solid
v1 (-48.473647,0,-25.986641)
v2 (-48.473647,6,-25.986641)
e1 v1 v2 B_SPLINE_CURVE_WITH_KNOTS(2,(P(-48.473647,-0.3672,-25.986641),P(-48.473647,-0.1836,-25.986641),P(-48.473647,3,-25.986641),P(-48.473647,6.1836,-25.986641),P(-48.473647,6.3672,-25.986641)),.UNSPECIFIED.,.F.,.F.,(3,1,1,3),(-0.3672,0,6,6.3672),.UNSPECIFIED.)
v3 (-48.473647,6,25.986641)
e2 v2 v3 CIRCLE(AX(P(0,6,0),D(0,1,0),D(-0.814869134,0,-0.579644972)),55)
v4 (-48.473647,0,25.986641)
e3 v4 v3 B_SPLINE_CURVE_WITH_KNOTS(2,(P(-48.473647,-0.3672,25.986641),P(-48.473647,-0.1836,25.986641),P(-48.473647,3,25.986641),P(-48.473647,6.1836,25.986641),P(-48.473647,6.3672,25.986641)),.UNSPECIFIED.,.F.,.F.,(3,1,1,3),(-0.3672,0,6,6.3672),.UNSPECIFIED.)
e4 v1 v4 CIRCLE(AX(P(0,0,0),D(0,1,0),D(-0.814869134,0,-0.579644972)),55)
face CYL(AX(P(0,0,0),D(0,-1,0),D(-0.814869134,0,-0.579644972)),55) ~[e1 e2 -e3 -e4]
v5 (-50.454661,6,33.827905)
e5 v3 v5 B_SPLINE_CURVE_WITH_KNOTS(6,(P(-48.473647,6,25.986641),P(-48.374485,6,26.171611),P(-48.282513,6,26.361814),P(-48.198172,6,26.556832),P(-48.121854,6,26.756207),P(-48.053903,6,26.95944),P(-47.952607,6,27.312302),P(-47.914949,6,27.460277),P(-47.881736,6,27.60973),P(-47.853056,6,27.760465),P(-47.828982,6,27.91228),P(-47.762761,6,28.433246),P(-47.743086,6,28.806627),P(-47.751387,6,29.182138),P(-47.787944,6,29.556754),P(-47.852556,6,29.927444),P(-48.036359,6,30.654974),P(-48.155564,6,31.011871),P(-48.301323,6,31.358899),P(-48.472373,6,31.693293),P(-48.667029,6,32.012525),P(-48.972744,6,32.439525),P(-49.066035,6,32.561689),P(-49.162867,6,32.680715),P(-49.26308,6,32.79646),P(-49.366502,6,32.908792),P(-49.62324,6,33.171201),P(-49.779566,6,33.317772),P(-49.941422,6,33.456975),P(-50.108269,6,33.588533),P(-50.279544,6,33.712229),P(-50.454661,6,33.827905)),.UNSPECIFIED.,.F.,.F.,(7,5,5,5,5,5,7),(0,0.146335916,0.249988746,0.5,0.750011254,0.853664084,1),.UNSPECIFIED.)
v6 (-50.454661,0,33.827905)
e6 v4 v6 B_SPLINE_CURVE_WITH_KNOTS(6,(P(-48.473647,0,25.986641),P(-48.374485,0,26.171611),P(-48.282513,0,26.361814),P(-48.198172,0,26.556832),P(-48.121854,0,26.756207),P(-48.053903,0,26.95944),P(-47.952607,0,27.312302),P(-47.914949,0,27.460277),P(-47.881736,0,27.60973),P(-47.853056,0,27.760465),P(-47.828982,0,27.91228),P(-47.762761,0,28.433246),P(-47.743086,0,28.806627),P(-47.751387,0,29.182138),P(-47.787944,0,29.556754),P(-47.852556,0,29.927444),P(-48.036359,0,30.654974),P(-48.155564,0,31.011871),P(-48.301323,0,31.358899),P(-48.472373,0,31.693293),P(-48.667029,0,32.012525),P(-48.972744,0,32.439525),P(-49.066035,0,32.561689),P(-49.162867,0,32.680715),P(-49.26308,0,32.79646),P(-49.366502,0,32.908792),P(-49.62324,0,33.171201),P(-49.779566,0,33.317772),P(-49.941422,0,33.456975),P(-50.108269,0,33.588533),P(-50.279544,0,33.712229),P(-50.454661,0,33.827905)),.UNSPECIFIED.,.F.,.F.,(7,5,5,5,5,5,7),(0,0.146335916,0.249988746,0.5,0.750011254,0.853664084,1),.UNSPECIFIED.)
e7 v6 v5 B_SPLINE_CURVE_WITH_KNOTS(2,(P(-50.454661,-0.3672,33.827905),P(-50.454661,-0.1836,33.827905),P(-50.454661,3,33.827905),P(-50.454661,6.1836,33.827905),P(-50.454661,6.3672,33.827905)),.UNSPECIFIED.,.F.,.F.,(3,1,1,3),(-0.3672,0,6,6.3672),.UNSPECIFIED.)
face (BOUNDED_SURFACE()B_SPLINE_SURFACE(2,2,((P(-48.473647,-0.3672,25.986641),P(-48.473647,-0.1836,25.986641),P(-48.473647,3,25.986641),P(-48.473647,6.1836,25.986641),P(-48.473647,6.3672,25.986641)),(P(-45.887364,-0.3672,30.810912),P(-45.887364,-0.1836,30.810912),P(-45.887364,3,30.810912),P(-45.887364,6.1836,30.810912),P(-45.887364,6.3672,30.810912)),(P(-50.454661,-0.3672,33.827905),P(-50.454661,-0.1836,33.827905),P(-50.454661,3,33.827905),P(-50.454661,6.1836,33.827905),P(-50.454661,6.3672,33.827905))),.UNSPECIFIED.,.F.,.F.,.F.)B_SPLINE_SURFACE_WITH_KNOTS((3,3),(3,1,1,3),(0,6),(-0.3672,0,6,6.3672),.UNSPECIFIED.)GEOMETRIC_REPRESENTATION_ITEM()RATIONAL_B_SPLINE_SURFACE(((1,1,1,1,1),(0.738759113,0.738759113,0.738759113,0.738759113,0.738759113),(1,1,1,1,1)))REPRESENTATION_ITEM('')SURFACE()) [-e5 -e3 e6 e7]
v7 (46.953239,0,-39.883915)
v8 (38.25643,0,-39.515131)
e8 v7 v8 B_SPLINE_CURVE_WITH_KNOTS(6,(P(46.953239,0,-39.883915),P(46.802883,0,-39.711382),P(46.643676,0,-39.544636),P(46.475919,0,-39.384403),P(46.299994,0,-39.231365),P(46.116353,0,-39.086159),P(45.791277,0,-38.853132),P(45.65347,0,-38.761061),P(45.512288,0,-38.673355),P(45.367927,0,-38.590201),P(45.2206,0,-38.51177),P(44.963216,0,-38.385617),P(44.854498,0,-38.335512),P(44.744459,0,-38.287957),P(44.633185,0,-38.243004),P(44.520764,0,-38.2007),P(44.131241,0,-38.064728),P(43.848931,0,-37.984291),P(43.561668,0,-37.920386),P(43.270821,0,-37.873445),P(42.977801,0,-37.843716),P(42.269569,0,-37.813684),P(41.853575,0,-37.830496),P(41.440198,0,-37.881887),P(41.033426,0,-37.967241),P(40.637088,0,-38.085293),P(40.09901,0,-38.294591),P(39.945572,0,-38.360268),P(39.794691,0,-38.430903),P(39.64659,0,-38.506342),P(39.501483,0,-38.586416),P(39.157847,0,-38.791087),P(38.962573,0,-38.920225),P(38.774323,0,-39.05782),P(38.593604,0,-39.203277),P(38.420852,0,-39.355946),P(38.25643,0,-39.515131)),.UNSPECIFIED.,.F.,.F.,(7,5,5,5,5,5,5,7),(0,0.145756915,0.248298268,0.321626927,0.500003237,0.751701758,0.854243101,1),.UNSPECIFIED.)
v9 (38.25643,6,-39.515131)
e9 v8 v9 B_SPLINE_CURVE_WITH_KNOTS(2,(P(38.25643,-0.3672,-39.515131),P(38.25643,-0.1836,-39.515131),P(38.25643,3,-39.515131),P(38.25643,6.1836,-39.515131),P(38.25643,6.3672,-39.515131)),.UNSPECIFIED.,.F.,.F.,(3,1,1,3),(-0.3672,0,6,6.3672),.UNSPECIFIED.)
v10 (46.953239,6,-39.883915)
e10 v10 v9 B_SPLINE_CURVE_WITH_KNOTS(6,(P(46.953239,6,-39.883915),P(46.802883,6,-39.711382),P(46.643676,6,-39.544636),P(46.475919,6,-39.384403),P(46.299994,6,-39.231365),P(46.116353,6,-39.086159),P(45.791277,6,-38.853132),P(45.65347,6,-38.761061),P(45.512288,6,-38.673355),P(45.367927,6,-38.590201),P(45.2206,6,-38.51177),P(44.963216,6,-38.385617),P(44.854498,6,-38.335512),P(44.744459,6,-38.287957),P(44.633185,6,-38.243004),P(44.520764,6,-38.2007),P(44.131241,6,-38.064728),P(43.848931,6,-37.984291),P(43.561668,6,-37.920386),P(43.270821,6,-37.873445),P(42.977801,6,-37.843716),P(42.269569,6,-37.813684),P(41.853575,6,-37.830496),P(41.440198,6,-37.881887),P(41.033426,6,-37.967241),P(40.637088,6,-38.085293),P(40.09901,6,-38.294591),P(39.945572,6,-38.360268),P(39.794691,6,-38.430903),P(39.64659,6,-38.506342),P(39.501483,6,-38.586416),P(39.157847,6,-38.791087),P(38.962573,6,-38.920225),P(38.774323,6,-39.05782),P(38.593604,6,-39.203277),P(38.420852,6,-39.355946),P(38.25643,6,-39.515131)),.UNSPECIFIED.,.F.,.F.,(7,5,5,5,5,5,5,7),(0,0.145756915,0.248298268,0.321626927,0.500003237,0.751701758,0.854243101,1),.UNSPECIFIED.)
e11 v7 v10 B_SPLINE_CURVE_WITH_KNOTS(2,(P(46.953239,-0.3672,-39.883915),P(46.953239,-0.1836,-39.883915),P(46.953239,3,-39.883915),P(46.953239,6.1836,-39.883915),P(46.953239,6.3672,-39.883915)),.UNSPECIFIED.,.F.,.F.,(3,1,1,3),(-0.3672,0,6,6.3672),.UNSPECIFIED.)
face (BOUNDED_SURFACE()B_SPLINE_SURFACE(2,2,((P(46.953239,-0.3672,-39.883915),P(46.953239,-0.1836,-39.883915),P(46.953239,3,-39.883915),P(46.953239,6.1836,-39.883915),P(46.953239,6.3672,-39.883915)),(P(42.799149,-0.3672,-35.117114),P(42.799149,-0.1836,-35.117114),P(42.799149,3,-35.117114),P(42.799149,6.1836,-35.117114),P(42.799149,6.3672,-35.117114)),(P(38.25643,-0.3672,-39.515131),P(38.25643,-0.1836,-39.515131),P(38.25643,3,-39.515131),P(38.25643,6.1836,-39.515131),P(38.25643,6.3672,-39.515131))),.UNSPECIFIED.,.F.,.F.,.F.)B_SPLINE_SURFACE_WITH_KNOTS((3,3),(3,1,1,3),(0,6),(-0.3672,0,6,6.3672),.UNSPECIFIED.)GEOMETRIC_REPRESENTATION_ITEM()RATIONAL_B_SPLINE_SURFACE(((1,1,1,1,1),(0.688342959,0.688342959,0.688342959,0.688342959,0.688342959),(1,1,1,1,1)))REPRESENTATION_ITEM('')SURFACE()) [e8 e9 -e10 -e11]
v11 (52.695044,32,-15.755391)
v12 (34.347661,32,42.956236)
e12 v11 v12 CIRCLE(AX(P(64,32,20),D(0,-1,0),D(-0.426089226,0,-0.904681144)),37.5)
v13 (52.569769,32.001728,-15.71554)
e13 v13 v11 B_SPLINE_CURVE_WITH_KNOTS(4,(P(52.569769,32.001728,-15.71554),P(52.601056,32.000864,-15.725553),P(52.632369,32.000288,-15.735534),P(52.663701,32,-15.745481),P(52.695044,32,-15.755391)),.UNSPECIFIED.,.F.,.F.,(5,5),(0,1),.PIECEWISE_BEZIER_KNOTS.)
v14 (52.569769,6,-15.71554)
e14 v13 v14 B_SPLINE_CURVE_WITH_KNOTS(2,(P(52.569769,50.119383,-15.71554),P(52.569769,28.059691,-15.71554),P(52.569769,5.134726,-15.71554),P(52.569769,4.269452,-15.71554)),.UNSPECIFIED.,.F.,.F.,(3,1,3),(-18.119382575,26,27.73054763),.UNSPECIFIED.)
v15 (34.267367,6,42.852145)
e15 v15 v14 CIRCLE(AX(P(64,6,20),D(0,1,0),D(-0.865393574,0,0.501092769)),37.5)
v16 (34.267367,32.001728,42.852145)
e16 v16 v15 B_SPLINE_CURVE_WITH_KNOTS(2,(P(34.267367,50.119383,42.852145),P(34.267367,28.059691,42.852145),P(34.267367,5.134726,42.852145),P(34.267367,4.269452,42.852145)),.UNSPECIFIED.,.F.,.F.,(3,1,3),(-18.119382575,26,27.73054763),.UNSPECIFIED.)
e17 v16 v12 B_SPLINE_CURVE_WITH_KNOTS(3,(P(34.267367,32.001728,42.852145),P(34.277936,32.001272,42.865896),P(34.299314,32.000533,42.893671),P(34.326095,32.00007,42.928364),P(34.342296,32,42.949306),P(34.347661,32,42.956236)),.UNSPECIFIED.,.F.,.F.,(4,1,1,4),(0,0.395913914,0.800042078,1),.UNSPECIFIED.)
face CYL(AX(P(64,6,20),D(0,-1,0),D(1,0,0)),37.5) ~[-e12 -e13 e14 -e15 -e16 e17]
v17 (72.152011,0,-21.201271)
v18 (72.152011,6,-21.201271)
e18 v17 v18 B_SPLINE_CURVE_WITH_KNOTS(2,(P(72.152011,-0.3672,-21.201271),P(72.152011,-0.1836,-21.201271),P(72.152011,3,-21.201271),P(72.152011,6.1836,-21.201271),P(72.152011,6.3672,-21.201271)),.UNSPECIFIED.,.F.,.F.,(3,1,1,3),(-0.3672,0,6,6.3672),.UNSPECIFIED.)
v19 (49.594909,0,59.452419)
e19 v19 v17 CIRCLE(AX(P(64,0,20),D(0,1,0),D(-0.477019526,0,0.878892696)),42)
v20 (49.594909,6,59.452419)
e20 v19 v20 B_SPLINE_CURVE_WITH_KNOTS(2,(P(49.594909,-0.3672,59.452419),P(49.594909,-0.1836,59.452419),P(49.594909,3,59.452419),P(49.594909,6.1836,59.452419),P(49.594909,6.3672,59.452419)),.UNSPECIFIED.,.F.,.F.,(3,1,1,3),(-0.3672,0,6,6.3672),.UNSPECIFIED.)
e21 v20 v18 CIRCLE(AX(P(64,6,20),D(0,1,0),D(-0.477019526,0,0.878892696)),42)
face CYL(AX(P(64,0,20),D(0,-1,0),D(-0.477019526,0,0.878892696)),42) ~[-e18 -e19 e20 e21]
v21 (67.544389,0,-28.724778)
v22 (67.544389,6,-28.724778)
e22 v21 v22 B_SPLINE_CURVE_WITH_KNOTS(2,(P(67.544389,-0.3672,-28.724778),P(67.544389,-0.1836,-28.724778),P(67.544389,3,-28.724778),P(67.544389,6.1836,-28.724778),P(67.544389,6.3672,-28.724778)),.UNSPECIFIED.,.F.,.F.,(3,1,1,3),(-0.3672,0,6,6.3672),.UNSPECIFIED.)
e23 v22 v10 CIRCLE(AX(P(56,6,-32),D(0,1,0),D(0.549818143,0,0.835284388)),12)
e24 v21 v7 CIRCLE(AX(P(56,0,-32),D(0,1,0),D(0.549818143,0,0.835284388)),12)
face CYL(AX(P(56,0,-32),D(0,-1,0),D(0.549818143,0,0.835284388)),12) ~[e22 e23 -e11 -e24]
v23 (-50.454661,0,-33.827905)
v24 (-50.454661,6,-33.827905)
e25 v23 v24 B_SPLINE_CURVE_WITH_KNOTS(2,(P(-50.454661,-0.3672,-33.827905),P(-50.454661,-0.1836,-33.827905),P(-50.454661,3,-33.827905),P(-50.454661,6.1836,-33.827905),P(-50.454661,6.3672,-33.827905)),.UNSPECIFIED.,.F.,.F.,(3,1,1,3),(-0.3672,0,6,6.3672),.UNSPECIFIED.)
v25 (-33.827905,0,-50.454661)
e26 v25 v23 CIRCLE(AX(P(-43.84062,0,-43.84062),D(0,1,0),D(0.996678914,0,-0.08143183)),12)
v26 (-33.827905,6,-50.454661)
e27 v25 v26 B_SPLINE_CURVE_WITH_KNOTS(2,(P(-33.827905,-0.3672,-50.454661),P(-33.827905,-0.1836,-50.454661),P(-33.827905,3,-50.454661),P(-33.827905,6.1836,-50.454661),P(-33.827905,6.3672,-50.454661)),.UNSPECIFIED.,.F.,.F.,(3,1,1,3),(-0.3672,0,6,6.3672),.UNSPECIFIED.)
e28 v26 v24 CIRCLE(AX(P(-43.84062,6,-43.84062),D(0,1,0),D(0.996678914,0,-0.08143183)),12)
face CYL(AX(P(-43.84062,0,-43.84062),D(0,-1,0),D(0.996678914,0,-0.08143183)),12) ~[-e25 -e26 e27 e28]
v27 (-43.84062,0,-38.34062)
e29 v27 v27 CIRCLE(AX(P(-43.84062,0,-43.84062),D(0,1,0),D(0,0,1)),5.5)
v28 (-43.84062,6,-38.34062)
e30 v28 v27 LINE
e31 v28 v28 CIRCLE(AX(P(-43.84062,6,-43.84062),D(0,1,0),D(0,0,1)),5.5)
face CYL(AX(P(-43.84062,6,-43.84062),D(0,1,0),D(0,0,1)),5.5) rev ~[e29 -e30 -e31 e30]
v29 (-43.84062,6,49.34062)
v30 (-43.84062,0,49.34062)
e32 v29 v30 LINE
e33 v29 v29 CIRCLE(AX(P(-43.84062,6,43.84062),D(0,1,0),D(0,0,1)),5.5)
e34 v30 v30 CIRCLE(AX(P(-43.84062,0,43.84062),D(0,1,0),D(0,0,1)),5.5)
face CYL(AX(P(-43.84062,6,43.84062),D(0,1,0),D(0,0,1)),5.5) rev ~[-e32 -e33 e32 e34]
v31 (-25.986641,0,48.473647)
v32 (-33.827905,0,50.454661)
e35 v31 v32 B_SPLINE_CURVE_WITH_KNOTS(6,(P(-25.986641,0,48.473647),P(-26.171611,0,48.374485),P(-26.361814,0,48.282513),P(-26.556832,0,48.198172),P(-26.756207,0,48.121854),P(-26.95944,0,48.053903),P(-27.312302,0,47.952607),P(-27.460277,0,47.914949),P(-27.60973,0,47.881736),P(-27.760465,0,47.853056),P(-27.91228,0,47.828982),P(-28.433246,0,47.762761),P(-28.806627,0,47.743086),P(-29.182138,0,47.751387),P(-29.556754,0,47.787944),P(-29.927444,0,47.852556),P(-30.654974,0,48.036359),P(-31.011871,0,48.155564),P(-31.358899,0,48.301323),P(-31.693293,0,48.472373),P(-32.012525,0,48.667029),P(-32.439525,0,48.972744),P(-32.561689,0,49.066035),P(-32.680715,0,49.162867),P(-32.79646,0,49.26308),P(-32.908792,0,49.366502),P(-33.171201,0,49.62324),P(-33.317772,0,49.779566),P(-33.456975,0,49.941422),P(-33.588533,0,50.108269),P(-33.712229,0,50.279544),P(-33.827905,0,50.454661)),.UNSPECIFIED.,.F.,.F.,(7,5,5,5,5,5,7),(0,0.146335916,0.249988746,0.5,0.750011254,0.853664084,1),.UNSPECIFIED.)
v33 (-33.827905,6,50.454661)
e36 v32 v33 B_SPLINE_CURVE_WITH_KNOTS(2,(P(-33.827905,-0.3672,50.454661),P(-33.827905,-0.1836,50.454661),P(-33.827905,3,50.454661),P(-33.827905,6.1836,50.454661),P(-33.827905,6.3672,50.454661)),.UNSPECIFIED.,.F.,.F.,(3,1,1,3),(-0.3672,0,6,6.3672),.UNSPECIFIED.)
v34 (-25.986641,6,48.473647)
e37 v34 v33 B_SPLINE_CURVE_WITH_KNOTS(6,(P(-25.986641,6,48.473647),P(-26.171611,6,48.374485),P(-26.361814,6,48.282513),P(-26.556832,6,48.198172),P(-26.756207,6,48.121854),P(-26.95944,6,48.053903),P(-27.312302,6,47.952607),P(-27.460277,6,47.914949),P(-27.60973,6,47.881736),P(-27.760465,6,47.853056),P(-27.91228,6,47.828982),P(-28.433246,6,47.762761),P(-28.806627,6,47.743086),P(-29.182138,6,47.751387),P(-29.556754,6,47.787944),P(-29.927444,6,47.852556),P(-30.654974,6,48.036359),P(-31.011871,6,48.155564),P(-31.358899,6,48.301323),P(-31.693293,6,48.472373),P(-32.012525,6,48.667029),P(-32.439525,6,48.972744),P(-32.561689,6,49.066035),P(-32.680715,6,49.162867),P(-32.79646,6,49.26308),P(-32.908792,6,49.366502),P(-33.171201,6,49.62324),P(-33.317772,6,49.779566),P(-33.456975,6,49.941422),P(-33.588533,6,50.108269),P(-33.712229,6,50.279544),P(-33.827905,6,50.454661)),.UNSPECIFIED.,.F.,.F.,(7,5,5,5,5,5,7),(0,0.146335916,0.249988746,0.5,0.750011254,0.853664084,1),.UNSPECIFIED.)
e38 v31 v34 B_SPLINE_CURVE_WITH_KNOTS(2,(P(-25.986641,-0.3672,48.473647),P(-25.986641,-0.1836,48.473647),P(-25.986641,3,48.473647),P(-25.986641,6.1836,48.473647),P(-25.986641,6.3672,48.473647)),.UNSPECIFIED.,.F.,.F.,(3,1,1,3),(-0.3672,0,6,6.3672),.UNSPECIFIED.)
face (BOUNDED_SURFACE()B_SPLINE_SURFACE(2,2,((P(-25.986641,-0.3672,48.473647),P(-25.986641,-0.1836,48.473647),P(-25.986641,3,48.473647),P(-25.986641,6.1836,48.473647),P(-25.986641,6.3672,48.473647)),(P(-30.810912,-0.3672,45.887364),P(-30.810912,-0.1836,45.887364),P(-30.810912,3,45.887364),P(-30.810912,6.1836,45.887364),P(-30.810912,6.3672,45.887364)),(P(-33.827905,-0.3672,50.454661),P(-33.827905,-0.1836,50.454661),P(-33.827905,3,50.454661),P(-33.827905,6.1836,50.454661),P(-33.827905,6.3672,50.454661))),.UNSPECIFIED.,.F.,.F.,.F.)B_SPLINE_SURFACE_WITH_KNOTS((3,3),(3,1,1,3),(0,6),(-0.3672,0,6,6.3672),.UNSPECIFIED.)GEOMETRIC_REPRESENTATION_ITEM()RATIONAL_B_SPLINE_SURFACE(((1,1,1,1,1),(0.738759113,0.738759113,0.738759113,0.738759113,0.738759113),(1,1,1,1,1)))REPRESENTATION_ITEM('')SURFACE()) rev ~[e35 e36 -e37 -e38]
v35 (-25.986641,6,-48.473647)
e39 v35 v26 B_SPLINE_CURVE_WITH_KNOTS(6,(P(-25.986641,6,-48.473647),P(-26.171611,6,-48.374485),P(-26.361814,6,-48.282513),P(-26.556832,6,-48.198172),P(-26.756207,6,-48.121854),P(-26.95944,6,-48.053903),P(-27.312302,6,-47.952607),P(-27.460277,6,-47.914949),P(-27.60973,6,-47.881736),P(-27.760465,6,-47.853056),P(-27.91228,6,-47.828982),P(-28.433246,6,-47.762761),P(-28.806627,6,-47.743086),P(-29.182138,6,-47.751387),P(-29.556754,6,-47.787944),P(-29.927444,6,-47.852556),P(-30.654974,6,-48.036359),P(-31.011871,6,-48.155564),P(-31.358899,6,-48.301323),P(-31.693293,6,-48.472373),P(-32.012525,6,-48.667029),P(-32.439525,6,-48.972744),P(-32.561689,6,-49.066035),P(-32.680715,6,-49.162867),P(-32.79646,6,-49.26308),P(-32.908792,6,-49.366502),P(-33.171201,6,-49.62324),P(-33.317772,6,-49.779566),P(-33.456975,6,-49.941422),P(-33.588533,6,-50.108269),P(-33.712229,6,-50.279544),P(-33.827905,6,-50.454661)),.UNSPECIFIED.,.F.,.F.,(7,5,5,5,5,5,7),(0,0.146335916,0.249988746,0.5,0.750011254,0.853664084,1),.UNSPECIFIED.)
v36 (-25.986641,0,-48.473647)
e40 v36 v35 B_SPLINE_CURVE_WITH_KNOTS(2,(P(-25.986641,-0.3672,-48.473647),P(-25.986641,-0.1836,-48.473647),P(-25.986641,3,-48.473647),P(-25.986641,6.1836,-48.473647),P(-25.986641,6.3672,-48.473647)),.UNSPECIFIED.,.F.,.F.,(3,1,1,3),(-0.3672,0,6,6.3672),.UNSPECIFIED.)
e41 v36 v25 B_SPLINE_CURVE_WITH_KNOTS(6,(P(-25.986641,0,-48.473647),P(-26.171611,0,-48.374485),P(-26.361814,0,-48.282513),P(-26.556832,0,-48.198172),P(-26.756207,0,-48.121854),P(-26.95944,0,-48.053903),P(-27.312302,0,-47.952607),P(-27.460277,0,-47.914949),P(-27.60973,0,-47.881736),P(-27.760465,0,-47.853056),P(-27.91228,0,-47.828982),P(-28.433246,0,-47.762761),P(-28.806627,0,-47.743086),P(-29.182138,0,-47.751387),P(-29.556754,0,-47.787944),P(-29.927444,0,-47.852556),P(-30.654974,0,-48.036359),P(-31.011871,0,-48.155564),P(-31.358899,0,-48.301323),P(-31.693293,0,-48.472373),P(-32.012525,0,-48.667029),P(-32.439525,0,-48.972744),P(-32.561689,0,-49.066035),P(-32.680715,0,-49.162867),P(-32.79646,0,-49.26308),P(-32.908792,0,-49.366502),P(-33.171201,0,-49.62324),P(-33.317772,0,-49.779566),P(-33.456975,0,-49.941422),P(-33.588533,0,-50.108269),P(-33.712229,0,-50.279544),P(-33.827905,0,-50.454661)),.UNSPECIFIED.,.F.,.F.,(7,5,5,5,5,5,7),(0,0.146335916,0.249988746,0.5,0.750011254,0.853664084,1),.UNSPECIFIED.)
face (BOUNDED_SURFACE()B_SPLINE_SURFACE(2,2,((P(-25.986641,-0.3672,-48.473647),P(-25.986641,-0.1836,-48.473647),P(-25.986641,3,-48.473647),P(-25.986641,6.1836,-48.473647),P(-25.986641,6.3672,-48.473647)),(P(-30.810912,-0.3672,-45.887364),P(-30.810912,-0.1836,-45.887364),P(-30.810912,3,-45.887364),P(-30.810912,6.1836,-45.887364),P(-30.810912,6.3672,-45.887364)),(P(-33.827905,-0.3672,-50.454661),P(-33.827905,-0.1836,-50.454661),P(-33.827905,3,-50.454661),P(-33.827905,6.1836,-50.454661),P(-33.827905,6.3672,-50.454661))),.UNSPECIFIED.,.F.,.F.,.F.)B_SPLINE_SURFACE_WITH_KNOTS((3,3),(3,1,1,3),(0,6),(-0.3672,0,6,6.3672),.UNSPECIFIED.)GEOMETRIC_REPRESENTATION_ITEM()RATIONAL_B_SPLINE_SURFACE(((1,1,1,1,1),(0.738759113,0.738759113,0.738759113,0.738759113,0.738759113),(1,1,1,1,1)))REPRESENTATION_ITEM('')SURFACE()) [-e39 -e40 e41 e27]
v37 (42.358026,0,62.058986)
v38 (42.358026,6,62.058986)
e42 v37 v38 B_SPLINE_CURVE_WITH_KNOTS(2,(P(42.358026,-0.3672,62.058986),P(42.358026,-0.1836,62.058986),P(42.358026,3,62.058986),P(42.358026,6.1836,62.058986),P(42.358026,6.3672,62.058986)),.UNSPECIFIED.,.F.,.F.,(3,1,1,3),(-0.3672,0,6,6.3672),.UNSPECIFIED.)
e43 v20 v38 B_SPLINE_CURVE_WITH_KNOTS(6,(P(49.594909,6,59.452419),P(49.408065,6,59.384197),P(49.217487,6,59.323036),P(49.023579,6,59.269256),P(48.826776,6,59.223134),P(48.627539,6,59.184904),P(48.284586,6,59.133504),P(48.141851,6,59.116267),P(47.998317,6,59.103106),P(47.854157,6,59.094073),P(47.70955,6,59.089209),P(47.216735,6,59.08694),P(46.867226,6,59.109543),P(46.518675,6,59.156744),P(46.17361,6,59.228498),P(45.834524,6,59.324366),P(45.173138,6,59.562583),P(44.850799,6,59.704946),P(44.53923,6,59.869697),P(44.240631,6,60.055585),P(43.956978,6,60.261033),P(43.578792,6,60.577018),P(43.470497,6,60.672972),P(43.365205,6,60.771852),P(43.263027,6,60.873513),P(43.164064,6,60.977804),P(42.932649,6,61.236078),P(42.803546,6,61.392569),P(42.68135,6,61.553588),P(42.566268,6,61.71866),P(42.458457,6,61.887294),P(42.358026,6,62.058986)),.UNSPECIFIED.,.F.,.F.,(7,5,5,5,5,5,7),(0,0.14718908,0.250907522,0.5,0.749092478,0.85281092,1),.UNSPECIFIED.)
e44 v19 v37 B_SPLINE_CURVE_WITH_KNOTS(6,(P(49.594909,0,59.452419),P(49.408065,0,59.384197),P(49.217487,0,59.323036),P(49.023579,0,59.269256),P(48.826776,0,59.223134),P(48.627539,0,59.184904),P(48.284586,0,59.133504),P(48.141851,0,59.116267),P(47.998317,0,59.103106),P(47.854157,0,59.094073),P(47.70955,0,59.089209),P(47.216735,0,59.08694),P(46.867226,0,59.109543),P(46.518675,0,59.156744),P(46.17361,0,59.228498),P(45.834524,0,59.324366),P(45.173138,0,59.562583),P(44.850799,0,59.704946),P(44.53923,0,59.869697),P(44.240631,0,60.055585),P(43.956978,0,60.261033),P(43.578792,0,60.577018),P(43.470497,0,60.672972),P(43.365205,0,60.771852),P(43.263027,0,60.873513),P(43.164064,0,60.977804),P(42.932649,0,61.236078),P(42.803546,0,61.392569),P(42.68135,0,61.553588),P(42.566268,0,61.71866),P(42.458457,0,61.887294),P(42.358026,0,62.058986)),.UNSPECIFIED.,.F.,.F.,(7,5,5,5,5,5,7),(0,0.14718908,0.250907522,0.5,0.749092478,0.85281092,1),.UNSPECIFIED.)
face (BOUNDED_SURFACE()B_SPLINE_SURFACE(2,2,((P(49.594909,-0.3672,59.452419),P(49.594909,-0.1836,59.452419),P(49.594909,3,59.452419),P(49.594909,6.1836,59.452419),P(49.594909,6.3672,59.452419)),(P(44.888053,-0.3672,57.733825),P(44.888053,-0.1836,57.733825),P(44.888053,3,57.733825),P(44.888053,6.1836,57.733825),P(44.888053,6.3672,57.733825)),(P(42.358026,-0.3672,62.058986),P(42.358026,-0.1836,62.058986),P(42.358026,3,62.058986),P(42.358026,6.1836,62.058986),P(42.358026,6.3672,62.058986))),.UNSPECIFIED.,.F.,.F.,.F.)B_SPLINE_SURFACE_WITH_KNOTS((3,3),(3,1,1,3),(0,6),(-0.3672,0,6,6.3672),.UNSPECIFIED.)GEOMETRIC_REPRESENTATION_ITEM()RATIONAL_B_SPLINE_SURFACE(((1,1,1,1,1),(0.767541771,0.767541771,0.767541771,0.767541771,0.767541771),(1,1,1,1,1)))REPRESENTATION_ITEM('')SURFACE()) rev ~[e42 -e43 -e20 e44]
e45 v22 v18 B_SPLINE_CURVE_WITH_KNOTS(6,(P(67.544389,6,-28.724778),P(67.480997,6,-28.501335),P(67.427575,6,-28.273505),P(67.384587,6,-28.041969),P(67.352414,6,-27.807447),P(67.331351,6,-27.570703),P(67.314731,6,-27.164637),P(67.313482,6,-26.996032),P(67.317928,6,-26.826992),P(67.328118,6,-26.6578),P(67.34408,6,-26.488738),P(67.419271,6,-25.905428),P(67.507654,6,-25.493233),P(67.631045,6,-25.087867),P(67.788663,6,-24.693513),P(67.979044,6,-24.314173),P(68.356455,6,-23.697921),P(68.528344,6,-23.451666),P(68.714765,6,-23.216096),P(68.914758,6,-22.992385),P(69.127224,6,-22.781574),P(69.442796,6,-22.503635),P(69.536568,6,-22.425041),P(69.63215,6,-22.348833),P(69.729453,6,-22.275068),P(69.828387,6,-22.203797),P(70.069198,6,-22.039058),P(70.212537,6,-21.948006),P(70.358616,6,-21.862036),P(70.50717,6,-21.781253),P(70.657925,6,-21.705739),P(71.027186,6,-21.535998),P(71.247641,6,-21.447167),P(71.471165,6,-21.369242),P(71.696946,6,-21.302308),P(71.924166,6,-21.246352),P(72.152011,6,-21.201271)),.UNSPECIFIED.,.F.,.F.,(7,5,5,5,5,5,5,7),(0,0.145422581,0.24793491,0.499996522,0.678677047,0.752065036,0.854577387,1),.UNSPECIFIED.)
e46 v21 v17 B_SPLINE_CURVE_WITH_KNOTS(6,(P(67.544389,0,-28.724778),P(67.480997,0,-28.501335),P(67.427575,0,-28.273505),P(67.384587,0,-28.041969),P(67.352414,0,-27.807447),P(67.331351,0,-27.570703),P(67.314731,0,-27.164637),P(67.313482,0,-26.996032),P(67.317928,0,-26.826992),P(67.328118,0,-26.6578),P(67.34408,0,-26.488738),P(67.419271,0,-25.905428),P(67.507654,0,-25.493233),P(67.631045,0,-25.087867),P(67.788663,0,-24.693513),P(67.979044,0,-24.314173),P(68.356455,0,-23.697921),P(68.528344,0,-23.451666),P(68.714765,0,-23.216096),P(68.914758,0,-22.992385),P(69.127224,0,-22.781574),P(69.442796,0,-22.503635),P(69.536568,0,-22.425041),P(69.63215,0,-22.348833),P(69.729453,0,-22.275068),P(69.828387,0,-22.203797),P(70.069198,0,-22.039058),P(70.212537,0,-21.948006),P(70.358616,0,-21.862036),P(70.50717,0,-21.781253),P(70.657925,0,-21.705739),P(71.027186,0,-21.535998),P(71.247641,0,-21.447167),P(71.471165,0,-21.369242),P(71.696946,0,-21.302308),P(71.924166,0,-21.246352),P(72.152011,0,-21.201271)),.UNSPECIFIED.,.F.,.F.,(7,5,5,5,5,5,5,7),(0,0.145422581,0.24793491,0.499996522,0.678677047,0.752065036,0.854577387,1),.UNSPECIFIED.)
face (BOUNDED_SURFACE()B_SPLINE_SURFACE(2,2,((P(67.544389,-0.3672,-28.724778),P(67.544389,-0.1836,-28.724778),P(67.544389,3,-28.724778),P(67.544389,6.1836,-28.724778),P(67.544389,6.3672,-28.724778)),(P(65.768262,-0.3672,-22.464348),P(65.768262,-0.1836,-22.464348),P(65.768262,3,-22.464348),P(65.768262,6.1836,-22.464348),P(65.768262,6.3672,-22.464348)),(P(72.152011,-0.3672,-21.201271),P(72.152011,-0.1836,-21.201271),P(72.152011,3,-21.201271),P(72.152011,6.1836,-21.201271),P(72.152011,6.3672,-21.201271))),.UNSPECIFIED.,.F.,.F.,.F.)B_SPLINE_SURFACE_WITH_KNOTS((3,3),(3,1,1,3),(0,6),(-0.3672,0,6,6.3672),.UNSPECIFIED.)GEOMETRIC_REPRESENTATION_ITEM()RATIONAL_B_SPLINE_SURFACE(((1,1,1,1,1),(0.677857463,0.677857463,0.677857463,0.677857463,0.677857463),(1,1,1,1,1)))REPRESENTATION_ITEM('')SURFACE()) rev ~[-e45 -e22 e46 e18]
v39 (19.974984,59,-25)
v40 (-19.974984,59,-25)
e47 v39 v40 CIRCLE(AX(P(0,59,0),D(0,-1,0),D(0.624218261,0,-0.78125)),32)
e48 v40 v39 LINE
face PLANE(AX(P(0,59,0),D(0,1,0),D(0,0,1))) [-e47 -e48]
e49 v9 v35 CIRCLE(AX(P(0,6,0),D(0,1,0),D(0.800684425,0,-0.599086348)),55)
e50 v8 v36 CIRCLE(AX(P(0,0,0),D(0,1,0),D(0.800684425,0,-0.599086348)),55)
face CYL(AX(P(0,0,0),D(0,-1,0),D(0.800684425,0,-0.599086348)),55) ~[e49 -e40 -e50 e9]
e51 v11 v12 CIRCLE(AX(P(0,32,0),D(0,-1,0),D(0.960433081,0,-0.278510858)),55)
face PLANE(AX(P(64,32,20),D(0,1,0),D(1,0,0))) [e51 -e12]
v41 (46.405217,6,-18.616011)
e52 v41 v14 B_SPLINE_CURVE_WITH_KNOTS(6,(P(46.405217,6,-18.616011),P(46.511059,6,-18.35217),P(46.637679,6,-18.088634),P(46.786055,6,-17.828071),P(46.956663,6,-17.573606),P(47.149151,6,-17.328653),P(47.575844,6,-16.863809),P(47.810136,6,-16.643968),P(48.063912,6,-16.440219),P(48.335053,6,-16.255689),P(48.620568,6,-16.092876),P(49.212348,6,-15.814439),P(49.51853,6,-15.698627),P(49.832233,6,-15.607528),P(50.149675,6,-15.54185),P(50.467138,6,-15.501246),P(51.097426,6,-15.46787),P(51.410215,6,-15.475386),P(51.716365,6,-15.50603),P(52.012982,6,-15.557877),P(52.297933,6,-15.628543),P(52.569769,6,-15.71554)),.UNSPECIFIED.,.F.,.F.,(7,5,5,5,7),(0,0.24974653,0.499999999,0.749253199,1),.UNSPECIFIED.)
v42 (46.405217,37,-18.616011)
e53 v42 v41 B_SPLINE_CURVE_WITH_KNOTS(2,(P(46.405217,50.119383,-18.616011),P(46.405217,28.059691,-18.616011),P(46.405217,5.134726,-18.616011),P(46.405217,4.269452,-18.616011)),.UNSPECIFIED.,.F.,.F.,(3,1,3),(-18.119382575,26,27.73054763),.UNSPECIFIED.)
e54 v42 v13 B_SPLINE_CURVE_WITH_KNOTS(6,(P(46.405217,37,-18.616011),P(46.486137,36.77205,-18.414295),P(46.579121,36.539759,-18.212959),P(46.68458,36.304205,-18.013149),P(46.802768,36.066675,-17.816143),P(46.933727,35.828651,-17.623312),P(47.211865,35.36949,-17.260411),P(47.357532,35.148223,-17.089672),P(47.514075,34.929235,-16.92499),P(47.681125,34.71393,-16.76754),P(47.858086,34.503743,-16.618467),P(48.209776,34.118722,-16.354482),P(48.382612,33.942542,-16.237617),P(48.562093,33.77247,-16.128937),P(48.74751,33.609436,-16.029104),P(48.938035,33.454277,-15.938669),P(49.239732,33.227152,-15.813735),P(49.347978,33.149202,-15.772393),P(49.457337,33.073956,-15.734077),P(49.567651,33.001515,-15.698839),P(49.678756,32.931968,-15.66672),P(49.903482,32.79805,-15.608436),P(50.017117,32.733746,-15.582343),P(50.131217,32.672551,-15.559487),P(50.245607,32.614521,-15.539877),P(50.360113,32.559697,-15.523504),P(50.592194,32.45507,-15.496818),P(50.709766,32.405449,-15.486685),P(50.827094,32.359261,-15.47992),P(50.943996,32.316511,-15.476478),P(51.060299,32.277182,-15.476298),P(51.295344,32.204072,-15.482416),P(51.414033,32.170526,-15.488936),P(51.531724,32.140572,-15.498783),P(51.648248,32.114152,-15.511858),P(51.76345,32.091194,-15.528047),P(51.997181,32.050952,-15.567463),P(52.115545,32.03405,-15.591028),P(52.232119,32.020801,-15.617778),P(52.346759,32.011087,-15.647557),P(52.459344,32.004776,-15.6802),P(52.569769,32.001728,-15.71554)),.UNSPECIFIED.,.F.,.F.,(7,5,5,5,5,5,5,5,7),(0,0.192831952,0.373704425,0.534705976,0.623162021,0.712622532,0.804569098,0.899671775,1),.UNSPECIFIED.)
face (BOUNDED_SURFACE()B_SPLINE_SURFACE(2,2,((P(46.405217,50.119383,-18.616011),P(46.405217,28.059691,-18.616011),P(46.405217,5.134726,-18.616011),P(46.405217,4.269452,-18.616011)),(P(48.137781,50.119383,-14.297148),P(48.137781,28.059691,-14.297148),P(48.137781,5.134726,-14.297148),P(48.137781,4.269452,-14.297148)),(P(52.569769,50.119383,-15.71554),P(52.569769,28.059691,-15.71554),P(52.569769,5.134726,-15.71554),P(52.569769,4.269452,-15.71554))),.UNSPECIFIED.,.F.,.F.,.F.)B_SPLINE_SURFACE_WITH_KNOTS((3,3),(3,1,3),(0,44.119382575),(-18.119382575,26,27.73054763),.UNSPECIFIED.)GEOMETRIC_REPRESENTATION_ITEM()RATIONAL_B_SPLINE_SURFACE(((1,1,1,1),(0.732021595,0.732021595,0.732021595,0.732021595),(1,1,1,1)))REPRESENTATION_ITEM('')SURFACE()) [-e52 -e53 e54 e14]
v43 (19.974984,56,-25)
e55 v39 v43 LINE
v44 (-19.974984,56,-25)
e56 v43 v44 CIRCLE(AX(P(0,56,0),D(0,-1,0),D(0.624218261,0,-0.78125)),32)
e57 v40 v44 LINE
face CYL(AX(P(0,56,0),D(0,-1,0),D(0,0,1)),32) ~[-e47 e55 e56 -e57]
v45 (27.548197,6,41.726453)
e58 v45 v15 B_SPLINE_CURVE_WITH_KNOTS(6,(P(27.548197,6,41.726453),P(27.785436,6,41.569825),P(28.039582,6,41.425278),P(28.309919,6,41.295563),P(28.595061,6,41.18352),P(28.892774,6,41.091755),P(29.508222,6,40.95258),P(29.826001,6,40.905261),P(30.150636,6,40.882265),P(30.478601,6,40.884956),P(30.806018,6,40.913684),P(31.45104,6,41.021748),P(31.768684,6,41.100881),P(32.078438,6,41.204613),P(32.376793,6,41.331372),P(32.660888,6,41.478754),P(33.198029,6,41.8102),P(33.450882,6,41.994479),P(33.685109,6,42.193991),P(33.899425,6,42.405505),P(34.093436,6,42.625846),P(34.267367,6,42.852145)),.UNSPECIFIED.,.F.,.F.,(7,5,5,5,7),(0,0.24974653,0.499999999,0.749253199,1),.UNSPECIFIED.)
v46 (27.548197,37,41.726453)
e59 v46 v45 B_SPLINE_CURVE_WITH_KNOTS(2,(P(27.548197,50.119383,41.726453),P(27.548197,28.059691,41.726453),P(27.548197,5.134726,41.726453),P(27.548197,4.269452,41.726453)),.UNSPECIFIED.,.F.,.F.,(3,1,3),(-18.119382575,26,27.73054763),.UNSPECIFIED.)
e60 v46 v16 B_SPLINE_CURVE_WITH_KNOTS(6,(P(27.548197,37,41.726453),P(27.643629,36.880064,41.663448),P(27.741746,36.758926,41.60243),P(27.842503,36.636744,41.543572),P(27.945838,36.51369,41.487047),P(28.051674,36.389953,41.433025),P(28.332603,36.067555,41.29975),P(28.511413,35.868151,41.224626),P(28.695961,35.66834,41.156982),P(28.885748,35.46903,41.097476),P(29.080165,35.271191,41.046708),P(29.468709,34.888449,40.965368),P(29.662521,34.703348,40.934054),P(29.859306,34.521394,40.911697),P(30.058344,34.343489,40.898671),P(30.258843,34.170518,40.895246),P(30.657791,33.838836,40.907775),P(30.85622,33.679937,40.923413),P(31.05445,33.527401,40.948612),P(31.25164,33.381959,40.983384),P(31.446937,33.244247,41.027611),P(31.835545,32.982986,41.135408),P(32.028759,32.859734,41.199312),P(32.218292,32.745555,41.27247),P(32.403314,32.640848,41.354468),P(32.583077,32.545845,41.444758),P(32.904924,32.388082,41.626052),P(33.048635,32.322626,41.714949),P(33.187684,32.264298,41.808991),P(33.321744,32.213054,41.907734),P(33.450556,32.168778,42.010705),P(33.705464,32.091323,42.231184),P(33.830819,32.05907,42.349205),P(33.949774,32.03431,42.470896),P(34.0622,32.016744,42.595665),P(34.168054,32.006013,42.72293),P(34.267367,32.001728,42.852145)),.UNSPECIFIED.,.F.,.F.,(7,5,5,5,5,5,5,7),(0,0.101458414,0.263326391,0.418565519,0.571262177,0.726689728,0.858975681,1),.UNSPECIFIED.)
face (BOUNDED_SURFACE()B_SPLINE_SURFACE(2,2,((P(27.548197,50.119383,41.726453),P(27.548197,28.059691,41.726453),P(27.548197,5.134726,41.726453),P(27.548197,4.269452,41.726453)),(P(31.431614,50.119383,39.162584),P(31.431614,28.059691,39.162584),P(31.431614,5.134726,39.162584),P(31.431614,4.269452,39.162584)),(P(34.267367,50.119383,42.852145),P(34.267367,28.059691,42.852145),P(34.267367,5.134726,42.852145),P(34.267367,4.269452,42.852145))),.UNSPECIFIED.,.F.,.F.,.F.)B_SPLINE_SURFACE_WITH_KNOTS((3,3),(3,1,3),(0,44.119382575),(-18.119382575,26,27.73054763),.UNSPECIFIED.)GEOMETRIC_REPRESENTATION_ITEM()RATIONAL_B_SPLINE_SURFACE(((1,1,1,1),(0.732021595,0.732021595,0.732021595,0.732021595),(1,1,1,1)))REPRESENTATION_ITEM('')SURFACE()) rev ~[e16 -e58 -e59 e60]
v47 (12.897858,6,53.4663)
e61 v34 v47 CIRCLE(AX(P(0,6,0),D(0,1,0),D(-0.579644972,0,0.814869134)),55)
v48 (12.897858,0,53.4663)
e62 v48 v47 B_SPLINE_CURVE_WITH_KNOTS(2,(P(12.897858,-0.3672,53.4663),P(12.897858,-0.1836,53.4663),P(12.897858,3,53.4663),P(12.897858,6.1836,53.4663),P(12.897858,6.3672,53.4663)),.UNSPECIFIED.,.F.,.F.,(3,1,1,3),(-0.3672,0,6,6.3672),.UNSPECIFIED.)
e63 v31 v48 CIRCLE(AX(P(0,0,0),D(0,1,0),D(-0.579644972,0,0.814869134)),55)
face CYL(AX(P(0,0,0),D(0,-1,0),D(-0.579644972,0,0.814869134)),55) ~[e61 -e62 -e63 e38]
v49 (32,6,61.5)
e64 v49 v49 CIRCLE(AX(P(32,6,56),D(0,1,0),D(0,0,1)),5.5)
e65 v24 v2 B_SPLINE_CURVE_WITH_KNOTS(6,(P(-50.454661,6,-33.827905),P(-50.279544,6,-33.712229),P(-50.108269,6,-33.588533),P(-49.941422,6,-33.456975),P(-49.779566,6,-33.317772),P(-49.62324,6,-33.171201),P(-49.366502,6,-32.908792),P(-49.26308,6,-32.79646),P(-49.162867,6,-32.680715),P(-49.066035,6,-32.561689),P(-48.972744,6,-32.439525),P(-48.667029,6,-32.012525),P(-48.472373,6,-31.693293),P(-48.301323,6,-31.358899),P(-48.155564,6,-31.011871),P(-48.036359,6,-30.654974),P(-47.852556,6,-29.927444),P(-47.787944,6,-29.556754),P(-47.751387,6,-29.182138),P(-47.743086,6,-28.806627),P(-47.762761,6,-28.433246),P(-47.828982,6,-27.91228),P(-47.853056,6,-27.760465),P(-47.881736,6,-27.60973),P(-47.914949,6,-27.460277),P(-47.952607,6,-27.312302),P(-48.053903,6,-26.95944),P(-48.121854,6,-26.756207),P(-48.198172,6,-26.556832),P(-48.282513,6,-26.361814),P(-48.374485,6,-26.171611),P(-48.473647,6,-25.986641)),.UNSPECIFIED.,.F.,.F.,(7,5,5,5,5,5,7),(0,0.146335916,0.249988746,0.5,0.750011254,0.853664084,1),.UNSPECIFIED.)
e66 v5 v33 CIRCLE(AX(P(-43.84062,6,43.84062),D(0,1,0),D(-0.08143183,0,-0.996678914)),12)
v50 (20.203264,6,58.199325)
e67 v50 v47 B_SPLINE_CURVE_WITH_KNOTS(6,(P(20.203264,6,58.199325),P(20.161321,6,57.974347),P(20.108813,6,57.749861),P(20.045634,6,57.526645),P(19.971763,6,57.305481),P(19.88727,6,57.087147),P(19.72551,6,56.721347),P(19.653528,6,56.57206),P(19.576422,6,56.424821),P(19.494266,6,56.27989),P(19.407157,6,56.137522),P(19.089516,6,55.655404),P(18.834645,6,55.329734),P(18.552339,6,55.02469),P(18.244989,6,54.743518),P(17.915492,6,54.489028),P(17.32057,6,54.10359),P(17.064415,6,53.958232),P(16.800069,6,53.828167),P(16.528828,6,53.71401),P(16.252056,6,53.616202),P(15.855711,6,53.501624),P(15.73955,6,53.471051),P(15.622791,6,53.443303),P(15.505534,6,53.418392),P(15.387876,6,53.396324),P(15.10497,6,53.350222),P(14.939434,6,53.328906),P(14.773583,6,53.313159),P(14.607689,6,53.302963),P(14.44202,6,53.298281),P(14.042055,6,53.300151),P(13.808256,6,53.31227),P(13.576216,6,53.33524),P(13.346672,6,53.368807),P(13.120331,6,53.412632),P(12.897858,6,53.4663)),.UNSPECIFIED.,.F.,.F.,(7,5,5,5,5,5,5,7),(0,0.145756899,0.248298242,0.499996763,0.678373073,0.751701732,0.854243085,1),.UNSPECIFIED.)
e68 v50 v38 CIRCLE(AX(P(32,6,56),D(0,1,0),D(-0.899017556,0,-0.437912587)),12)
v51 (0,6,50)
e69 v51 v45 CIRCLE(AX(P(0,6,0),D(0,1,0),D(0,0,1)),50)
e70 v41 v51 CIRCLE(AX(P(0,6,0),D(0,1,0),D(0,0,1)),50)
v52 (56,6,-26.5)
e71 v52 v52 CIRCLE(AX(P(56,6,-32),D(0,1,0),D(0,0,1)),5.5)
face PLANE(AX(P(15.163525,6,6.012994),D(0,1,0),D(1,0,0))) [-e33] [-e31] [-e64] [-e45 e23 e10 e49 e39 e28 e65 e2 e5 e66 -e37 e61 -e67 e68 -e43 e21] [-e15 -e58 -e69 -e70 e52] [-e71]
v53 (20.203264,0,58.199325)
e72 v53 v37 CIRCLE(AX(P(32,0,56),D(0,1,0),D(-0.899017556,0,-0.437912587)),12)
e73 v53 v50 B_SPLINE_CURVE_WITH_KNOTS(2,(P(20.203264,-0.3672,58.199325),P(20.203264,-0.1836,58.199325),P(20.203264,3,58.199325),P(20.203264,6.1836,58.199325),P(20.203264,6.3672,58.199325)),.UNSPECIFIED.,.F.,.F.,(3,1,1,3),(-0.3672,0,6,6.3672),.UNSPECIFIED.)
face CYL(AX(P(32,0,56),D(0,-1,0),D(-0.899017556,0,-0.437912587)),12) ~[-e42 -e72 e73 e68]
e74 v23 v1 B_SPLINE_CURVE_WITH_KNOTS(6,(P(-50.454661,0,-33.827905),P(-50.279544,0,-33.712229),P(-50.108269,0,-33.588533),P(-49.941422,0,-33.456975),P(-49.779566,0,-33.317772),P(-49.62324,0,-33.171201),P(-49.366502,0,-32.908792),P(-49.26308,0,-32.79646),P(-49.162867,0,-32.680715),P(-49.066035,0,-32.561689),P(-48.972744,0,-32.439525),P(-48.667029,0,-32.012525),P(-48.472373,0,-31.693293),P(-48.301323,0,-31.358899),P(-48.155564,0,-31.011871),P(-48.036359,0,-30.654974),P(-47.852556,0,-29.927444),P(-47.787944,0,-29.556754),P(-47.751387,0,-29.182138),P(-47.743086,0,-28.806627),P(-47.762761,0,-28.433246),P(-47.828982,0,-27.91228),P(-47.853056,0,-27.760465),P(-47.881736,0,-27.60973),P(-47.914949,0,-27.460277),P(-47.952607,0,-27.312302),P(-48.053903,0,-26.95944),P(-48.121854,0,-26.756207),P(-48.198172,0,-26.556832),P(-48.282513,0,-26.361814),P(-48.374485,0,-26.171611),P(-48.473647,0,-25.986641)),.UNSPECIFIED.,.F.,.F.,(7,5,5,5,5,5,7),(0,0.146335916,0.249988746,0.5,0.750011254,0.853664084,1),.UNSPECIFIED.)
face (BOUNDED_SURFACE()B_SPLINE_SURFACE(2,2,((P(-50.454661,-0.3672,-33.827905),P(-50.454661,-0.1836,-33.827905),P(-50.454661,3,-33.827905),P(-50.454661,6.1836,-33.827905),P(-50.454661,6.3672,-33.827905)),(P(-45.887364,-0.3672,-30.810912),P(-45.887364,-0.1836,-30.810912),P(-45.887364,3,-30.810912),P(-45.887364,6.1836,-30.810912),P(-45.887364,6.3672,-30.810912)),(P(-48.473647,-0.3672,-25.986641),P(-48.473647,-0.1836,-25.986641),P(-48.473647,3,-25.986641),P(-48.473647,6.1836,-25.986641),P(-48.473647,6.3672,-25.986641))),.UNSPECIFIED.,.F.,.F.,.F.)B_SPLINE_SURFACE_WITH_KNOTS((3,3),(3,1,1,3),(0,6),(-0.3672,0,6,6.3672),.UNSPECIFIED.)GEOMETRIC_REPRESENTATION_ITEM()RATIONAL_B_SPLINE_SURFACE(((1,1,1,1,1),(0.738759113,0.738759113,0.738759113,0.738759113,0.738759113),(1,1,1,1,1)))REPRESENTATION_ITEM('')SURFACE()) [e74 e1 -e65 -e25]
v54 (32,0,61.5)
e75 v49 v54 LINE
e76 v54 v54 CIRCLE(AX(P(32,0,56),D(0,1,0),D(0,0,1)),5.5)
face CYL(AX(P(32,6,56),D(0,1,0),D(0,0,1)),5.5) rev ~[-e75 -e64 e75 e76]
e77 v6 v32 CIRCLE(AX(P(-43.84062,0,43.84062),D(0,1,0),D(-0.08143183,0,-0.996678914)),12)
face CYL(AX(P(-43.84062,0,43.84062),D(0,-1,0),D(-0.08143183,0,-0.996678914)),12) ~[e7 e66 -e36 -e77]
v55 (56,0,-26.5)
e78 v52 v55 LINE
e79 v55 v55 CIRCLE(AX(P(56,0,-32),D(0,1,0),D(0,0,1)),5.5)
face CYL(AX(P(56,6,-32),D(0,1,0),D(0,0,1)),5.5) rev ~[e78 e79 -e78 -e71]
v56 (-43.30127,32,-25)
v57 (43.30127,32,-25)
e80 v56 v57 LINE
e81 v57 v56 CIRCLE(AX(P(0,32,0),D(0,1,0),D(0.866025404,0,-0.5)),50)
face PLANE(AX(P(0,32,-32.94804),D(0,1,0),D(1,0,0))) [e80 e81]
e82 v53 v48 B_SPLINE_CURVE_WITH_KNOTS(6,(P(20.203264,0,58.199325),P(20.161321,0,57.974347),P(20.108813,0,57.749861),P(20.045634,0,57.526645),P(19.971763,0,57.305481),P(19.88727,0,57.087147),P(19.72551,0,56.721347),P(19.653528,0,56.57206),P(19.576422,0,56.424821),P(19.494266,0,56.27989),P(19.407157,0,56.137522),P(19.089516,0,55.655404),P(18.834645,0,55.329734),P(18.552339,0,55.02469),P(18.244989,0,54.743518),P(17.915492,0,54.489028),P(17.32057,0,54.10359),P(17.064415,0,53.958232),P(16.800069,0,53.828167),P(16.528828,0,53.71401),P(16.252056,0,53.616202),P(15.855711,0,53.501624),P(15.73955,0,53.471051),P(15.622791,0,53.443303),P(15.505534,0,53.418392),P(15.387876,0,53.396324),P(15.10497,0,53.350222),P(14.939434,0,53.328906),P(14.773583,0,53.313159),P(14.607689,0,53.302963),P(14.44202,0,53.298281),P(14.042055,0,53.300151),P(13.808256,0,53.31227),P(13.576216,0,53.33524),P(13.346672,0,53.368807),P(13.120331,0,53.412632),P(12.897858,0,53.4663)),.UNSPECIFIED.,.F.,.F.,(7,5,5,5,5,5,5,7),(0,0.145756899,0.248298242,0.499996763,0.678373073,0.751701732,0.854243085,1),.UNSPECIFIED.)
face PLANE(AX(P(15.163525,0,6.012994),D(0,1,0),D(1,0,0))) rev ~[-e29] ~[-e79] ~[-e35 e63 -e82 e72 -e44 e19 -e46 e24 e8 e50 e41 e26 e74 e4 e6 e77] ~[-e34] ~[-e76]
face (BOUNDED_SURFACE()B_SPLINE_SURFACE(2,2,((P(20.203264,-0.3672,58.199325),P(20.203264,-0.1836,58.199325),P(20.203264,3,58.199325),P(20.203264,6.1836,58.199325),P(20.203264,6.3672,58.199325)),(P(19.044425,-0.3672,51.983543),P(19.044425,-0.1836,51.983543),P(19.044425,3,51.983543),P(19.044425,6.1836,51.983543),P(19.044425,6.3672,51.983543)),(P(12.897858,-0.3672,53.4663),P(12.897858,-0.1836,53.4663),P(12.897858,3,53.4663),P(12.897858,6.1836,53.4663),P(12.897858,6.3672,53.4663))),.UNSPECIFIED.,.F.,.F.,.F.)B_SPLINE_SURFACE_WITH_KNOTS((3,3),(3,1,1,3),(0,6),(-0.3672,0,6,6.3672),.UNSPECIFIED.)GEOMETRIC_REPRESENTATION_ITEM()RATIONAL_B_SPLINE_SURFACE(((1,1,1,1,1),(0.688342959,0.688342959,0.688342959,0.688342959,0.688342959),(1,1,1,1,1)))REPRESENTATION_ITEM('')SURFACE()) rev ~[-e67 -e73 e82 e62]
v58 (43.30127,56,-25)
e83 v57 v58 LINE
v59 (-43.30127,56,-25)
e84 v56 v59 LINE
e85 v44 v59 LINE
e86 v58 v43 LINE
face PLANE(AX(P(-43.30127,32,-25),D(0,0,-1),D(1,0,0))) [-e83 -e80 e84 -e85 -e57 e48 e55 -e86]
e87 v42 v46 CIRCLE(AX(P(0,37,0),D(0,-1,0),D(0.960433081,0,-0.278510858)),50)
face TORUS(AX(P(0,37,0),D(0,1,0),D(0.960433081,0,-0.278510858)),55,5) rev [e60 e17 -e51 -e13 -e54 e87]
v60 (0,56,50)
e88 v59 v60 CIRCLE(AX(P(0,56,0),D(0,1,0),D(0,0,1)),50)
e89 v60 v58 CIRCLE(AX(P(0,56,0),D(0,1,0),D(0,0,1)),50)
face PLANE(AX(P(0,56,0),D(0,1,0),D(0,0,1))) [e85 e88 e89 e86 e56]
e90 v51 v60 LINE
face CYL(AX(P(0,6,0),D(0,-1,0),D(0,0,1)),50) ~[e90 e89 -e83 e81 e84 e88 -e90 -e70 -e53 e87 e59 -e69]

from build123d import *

# Parameters (mm, degrees)
BOSS_EXTRUDE1_DEPTH = 6
SKETCH2_R           = 5.5
CUT_EXTRUDE1_DEPTH  = 6
SKETCH3_R           = 50
BOSS_EXTRUDE2_DEPTH = 50
SKETCH4_R           = 37.5
BOSS_EXTRUDE3_DEPTH = 26
SKETCH5_R           = 32
BOSS_EXTRUDE4_DEPTH = 3
FILLET2_R           = 6
FILLET3_R           = 6
FILLET4_R           = 5
CUT_EXTRUDE2_START  = -27
CUT_EXTRUDE2_DEPTH  = 27


with BuildPart() as part:
    # Sketch1 → Boss-Extrude1 (new body)
    with BuildSketch(Plane(origin=(0, 0, 0), x_dir=(1, 0, 0), z_dir=(0, 1, 0))):
        with BuildLine():
            ThreePointArc((21.211789327, -50.745048956), (28.860136885, -67.581936782), (43.965179902, -56.913493246))
            ThreePointArc((43.965179902, -56.913493246), (104.875389558, -29.654145663), (62.597817721, 21.976587342))
            ThreePointArc((62.597817721, 21.976587342), (62.107138398, 42.329707672), (44.037643352, 32.949749135))
            ThreePointArc((44.037643352, 32.949749135), (8.49481412, 54.340023308), (-31.880473469, 44.817802394))
            ThreePointArc((-31.880473469, 44.817802394), (-52.325901808, 52.325901808), (-44.817802394, 31.880473469))
            ThreePointArc((-44.817802394, 31.880473469), (-55, 0), (-44.817802394, -31.880473469))
            ThreePointArc((-44.817802394, -31.880473469), (-52.325901808, -52.325901808), (-31.880473469, -44.817802394))
            ThreePointArc((-31.880473469, -44.817802394), (-6.102316632, -54.660421986), (21.211789327, -50.745048956))
        make_face()
    extrude(amount=BOSS_EXTRUDE1_DEPTH)

    # Sketch2 → Cut-Extrude1 (cut)
    with BuildSketch(Plane(origin=(0, 6, 0), x_dir=(1, 0, 0), z_dir=(0, 1, 0))):
        with Locations(Location((56, 32, 0), (0, 0, 270))):
            Circle(SKETCH2_R)
        with Locations(Location((-43.840620434, 43.840620434, 0), (0, 0, 270))):
            Circle(SKETCH2_R)
        with Locations(Location((-43.840620434, -43.840620434, 0), (0, 0, 270))):
            Circle(SKETCH2_R)
        with Locations(Location((32, -56, 0), (0, 0, 270))):
            Circle(SKETCH2_R)
    extrude(amount=-CUT_EXTRUDE1_DEPTH, mode=Mode.SUBTRACT)

    # Sketch3 → Boss-Extrude2 (add)
    with BuildSketch(Plane(origin=(0, 6, 0), x_dir=(1, 0, 0), z_dir=(0, 1, 0))):
        with Locations(Location((0, 0, 0), (0, 0, 270))):
            Circle(SKETCH3_R)
    extrude(amount=BOSS_EXTRUDE2_DEPTH)

    # Sketch4 → Boss-Extrude3 (add)
    with BuildSketch(Plane(origin=(0, 6, 0), x_dir=(1, 0, 0), z_dir=(0, 1, 0))):
        with Locations((64, -20)):
            Circle(SKETCH4_R)
    extrude(amount=BOSS_EXTRUDE3_DEPTH)

    # Sketch5 → Boss-Extrude4 (add)
    with BuildSketch(Plane(origin=(0, 56, 0), x_dir=(1, 0, 0), z_dir=(0, 1, 0))):
        with Locations(Location((0, 0, 0), (0, 0, 270))):
            Circle(SKETCH5_R)
    extrude(amount=BOSS_EXTRUDE4_DEPTH)

    # Fillet2
    fillet2_edges = [part.edges().sort_by_distance(p)[0] for p in [
        (44.037643352, 3, -32.949749135),
    ]]
    fillet(fillet2_edges, radius=FILLET2_R)

    # Fillet3
    fillet3_edges = [part.edges().sort_by_distance(p)[0] for p in [
        (21.211789327, 3, 50.745048956),
        (-31.880473469, 3, 44.817802394),
        (-44.817802394, 3, 31.880473469),
        (-44.817802394, 3, -31.880473469),
        (-31.880473469, 3, -44.817802394),
        (62.597817721, 3, -21.976587342),
        (43.965179902, 3, 56.913493246),
    ]]
    fillet(fillet3_edges, radius=FILLET3_R)

    # Fillet4
    fillet4_edges = [part.edges().sort_by_distance(p)[0] for p in [
        (47.723998902, 32, 14.913749657),
        (48.021654026, 19, -13.925542883),
        (31.547740992, 19, 38.790978827),
    ]]
    fillet(fillet4_edges, radius=FILLET4_R)

    # Sketch6 → Cut-Extrude2 (cut)
    with BuildSketch(Plane(origin=(0, 59, 0), x_dir=(1, 0, 0), z_dir=(0, 1, 0)).offset(CUT_EXTRUDE2_START)):
        with BuildLine():
            Line((0, 25), (43.301270189, 25))
            ThreePointArc((43.301270189, 25), (0, 50), (-43.301270189, 25))
            Line((-43.301270189, 25), (0, 25))
        make_face()
    extrude(amount=CUT_EXTRUDE2_DEPTH, mode=Mode.SUBTRACT)


solid = part.part
